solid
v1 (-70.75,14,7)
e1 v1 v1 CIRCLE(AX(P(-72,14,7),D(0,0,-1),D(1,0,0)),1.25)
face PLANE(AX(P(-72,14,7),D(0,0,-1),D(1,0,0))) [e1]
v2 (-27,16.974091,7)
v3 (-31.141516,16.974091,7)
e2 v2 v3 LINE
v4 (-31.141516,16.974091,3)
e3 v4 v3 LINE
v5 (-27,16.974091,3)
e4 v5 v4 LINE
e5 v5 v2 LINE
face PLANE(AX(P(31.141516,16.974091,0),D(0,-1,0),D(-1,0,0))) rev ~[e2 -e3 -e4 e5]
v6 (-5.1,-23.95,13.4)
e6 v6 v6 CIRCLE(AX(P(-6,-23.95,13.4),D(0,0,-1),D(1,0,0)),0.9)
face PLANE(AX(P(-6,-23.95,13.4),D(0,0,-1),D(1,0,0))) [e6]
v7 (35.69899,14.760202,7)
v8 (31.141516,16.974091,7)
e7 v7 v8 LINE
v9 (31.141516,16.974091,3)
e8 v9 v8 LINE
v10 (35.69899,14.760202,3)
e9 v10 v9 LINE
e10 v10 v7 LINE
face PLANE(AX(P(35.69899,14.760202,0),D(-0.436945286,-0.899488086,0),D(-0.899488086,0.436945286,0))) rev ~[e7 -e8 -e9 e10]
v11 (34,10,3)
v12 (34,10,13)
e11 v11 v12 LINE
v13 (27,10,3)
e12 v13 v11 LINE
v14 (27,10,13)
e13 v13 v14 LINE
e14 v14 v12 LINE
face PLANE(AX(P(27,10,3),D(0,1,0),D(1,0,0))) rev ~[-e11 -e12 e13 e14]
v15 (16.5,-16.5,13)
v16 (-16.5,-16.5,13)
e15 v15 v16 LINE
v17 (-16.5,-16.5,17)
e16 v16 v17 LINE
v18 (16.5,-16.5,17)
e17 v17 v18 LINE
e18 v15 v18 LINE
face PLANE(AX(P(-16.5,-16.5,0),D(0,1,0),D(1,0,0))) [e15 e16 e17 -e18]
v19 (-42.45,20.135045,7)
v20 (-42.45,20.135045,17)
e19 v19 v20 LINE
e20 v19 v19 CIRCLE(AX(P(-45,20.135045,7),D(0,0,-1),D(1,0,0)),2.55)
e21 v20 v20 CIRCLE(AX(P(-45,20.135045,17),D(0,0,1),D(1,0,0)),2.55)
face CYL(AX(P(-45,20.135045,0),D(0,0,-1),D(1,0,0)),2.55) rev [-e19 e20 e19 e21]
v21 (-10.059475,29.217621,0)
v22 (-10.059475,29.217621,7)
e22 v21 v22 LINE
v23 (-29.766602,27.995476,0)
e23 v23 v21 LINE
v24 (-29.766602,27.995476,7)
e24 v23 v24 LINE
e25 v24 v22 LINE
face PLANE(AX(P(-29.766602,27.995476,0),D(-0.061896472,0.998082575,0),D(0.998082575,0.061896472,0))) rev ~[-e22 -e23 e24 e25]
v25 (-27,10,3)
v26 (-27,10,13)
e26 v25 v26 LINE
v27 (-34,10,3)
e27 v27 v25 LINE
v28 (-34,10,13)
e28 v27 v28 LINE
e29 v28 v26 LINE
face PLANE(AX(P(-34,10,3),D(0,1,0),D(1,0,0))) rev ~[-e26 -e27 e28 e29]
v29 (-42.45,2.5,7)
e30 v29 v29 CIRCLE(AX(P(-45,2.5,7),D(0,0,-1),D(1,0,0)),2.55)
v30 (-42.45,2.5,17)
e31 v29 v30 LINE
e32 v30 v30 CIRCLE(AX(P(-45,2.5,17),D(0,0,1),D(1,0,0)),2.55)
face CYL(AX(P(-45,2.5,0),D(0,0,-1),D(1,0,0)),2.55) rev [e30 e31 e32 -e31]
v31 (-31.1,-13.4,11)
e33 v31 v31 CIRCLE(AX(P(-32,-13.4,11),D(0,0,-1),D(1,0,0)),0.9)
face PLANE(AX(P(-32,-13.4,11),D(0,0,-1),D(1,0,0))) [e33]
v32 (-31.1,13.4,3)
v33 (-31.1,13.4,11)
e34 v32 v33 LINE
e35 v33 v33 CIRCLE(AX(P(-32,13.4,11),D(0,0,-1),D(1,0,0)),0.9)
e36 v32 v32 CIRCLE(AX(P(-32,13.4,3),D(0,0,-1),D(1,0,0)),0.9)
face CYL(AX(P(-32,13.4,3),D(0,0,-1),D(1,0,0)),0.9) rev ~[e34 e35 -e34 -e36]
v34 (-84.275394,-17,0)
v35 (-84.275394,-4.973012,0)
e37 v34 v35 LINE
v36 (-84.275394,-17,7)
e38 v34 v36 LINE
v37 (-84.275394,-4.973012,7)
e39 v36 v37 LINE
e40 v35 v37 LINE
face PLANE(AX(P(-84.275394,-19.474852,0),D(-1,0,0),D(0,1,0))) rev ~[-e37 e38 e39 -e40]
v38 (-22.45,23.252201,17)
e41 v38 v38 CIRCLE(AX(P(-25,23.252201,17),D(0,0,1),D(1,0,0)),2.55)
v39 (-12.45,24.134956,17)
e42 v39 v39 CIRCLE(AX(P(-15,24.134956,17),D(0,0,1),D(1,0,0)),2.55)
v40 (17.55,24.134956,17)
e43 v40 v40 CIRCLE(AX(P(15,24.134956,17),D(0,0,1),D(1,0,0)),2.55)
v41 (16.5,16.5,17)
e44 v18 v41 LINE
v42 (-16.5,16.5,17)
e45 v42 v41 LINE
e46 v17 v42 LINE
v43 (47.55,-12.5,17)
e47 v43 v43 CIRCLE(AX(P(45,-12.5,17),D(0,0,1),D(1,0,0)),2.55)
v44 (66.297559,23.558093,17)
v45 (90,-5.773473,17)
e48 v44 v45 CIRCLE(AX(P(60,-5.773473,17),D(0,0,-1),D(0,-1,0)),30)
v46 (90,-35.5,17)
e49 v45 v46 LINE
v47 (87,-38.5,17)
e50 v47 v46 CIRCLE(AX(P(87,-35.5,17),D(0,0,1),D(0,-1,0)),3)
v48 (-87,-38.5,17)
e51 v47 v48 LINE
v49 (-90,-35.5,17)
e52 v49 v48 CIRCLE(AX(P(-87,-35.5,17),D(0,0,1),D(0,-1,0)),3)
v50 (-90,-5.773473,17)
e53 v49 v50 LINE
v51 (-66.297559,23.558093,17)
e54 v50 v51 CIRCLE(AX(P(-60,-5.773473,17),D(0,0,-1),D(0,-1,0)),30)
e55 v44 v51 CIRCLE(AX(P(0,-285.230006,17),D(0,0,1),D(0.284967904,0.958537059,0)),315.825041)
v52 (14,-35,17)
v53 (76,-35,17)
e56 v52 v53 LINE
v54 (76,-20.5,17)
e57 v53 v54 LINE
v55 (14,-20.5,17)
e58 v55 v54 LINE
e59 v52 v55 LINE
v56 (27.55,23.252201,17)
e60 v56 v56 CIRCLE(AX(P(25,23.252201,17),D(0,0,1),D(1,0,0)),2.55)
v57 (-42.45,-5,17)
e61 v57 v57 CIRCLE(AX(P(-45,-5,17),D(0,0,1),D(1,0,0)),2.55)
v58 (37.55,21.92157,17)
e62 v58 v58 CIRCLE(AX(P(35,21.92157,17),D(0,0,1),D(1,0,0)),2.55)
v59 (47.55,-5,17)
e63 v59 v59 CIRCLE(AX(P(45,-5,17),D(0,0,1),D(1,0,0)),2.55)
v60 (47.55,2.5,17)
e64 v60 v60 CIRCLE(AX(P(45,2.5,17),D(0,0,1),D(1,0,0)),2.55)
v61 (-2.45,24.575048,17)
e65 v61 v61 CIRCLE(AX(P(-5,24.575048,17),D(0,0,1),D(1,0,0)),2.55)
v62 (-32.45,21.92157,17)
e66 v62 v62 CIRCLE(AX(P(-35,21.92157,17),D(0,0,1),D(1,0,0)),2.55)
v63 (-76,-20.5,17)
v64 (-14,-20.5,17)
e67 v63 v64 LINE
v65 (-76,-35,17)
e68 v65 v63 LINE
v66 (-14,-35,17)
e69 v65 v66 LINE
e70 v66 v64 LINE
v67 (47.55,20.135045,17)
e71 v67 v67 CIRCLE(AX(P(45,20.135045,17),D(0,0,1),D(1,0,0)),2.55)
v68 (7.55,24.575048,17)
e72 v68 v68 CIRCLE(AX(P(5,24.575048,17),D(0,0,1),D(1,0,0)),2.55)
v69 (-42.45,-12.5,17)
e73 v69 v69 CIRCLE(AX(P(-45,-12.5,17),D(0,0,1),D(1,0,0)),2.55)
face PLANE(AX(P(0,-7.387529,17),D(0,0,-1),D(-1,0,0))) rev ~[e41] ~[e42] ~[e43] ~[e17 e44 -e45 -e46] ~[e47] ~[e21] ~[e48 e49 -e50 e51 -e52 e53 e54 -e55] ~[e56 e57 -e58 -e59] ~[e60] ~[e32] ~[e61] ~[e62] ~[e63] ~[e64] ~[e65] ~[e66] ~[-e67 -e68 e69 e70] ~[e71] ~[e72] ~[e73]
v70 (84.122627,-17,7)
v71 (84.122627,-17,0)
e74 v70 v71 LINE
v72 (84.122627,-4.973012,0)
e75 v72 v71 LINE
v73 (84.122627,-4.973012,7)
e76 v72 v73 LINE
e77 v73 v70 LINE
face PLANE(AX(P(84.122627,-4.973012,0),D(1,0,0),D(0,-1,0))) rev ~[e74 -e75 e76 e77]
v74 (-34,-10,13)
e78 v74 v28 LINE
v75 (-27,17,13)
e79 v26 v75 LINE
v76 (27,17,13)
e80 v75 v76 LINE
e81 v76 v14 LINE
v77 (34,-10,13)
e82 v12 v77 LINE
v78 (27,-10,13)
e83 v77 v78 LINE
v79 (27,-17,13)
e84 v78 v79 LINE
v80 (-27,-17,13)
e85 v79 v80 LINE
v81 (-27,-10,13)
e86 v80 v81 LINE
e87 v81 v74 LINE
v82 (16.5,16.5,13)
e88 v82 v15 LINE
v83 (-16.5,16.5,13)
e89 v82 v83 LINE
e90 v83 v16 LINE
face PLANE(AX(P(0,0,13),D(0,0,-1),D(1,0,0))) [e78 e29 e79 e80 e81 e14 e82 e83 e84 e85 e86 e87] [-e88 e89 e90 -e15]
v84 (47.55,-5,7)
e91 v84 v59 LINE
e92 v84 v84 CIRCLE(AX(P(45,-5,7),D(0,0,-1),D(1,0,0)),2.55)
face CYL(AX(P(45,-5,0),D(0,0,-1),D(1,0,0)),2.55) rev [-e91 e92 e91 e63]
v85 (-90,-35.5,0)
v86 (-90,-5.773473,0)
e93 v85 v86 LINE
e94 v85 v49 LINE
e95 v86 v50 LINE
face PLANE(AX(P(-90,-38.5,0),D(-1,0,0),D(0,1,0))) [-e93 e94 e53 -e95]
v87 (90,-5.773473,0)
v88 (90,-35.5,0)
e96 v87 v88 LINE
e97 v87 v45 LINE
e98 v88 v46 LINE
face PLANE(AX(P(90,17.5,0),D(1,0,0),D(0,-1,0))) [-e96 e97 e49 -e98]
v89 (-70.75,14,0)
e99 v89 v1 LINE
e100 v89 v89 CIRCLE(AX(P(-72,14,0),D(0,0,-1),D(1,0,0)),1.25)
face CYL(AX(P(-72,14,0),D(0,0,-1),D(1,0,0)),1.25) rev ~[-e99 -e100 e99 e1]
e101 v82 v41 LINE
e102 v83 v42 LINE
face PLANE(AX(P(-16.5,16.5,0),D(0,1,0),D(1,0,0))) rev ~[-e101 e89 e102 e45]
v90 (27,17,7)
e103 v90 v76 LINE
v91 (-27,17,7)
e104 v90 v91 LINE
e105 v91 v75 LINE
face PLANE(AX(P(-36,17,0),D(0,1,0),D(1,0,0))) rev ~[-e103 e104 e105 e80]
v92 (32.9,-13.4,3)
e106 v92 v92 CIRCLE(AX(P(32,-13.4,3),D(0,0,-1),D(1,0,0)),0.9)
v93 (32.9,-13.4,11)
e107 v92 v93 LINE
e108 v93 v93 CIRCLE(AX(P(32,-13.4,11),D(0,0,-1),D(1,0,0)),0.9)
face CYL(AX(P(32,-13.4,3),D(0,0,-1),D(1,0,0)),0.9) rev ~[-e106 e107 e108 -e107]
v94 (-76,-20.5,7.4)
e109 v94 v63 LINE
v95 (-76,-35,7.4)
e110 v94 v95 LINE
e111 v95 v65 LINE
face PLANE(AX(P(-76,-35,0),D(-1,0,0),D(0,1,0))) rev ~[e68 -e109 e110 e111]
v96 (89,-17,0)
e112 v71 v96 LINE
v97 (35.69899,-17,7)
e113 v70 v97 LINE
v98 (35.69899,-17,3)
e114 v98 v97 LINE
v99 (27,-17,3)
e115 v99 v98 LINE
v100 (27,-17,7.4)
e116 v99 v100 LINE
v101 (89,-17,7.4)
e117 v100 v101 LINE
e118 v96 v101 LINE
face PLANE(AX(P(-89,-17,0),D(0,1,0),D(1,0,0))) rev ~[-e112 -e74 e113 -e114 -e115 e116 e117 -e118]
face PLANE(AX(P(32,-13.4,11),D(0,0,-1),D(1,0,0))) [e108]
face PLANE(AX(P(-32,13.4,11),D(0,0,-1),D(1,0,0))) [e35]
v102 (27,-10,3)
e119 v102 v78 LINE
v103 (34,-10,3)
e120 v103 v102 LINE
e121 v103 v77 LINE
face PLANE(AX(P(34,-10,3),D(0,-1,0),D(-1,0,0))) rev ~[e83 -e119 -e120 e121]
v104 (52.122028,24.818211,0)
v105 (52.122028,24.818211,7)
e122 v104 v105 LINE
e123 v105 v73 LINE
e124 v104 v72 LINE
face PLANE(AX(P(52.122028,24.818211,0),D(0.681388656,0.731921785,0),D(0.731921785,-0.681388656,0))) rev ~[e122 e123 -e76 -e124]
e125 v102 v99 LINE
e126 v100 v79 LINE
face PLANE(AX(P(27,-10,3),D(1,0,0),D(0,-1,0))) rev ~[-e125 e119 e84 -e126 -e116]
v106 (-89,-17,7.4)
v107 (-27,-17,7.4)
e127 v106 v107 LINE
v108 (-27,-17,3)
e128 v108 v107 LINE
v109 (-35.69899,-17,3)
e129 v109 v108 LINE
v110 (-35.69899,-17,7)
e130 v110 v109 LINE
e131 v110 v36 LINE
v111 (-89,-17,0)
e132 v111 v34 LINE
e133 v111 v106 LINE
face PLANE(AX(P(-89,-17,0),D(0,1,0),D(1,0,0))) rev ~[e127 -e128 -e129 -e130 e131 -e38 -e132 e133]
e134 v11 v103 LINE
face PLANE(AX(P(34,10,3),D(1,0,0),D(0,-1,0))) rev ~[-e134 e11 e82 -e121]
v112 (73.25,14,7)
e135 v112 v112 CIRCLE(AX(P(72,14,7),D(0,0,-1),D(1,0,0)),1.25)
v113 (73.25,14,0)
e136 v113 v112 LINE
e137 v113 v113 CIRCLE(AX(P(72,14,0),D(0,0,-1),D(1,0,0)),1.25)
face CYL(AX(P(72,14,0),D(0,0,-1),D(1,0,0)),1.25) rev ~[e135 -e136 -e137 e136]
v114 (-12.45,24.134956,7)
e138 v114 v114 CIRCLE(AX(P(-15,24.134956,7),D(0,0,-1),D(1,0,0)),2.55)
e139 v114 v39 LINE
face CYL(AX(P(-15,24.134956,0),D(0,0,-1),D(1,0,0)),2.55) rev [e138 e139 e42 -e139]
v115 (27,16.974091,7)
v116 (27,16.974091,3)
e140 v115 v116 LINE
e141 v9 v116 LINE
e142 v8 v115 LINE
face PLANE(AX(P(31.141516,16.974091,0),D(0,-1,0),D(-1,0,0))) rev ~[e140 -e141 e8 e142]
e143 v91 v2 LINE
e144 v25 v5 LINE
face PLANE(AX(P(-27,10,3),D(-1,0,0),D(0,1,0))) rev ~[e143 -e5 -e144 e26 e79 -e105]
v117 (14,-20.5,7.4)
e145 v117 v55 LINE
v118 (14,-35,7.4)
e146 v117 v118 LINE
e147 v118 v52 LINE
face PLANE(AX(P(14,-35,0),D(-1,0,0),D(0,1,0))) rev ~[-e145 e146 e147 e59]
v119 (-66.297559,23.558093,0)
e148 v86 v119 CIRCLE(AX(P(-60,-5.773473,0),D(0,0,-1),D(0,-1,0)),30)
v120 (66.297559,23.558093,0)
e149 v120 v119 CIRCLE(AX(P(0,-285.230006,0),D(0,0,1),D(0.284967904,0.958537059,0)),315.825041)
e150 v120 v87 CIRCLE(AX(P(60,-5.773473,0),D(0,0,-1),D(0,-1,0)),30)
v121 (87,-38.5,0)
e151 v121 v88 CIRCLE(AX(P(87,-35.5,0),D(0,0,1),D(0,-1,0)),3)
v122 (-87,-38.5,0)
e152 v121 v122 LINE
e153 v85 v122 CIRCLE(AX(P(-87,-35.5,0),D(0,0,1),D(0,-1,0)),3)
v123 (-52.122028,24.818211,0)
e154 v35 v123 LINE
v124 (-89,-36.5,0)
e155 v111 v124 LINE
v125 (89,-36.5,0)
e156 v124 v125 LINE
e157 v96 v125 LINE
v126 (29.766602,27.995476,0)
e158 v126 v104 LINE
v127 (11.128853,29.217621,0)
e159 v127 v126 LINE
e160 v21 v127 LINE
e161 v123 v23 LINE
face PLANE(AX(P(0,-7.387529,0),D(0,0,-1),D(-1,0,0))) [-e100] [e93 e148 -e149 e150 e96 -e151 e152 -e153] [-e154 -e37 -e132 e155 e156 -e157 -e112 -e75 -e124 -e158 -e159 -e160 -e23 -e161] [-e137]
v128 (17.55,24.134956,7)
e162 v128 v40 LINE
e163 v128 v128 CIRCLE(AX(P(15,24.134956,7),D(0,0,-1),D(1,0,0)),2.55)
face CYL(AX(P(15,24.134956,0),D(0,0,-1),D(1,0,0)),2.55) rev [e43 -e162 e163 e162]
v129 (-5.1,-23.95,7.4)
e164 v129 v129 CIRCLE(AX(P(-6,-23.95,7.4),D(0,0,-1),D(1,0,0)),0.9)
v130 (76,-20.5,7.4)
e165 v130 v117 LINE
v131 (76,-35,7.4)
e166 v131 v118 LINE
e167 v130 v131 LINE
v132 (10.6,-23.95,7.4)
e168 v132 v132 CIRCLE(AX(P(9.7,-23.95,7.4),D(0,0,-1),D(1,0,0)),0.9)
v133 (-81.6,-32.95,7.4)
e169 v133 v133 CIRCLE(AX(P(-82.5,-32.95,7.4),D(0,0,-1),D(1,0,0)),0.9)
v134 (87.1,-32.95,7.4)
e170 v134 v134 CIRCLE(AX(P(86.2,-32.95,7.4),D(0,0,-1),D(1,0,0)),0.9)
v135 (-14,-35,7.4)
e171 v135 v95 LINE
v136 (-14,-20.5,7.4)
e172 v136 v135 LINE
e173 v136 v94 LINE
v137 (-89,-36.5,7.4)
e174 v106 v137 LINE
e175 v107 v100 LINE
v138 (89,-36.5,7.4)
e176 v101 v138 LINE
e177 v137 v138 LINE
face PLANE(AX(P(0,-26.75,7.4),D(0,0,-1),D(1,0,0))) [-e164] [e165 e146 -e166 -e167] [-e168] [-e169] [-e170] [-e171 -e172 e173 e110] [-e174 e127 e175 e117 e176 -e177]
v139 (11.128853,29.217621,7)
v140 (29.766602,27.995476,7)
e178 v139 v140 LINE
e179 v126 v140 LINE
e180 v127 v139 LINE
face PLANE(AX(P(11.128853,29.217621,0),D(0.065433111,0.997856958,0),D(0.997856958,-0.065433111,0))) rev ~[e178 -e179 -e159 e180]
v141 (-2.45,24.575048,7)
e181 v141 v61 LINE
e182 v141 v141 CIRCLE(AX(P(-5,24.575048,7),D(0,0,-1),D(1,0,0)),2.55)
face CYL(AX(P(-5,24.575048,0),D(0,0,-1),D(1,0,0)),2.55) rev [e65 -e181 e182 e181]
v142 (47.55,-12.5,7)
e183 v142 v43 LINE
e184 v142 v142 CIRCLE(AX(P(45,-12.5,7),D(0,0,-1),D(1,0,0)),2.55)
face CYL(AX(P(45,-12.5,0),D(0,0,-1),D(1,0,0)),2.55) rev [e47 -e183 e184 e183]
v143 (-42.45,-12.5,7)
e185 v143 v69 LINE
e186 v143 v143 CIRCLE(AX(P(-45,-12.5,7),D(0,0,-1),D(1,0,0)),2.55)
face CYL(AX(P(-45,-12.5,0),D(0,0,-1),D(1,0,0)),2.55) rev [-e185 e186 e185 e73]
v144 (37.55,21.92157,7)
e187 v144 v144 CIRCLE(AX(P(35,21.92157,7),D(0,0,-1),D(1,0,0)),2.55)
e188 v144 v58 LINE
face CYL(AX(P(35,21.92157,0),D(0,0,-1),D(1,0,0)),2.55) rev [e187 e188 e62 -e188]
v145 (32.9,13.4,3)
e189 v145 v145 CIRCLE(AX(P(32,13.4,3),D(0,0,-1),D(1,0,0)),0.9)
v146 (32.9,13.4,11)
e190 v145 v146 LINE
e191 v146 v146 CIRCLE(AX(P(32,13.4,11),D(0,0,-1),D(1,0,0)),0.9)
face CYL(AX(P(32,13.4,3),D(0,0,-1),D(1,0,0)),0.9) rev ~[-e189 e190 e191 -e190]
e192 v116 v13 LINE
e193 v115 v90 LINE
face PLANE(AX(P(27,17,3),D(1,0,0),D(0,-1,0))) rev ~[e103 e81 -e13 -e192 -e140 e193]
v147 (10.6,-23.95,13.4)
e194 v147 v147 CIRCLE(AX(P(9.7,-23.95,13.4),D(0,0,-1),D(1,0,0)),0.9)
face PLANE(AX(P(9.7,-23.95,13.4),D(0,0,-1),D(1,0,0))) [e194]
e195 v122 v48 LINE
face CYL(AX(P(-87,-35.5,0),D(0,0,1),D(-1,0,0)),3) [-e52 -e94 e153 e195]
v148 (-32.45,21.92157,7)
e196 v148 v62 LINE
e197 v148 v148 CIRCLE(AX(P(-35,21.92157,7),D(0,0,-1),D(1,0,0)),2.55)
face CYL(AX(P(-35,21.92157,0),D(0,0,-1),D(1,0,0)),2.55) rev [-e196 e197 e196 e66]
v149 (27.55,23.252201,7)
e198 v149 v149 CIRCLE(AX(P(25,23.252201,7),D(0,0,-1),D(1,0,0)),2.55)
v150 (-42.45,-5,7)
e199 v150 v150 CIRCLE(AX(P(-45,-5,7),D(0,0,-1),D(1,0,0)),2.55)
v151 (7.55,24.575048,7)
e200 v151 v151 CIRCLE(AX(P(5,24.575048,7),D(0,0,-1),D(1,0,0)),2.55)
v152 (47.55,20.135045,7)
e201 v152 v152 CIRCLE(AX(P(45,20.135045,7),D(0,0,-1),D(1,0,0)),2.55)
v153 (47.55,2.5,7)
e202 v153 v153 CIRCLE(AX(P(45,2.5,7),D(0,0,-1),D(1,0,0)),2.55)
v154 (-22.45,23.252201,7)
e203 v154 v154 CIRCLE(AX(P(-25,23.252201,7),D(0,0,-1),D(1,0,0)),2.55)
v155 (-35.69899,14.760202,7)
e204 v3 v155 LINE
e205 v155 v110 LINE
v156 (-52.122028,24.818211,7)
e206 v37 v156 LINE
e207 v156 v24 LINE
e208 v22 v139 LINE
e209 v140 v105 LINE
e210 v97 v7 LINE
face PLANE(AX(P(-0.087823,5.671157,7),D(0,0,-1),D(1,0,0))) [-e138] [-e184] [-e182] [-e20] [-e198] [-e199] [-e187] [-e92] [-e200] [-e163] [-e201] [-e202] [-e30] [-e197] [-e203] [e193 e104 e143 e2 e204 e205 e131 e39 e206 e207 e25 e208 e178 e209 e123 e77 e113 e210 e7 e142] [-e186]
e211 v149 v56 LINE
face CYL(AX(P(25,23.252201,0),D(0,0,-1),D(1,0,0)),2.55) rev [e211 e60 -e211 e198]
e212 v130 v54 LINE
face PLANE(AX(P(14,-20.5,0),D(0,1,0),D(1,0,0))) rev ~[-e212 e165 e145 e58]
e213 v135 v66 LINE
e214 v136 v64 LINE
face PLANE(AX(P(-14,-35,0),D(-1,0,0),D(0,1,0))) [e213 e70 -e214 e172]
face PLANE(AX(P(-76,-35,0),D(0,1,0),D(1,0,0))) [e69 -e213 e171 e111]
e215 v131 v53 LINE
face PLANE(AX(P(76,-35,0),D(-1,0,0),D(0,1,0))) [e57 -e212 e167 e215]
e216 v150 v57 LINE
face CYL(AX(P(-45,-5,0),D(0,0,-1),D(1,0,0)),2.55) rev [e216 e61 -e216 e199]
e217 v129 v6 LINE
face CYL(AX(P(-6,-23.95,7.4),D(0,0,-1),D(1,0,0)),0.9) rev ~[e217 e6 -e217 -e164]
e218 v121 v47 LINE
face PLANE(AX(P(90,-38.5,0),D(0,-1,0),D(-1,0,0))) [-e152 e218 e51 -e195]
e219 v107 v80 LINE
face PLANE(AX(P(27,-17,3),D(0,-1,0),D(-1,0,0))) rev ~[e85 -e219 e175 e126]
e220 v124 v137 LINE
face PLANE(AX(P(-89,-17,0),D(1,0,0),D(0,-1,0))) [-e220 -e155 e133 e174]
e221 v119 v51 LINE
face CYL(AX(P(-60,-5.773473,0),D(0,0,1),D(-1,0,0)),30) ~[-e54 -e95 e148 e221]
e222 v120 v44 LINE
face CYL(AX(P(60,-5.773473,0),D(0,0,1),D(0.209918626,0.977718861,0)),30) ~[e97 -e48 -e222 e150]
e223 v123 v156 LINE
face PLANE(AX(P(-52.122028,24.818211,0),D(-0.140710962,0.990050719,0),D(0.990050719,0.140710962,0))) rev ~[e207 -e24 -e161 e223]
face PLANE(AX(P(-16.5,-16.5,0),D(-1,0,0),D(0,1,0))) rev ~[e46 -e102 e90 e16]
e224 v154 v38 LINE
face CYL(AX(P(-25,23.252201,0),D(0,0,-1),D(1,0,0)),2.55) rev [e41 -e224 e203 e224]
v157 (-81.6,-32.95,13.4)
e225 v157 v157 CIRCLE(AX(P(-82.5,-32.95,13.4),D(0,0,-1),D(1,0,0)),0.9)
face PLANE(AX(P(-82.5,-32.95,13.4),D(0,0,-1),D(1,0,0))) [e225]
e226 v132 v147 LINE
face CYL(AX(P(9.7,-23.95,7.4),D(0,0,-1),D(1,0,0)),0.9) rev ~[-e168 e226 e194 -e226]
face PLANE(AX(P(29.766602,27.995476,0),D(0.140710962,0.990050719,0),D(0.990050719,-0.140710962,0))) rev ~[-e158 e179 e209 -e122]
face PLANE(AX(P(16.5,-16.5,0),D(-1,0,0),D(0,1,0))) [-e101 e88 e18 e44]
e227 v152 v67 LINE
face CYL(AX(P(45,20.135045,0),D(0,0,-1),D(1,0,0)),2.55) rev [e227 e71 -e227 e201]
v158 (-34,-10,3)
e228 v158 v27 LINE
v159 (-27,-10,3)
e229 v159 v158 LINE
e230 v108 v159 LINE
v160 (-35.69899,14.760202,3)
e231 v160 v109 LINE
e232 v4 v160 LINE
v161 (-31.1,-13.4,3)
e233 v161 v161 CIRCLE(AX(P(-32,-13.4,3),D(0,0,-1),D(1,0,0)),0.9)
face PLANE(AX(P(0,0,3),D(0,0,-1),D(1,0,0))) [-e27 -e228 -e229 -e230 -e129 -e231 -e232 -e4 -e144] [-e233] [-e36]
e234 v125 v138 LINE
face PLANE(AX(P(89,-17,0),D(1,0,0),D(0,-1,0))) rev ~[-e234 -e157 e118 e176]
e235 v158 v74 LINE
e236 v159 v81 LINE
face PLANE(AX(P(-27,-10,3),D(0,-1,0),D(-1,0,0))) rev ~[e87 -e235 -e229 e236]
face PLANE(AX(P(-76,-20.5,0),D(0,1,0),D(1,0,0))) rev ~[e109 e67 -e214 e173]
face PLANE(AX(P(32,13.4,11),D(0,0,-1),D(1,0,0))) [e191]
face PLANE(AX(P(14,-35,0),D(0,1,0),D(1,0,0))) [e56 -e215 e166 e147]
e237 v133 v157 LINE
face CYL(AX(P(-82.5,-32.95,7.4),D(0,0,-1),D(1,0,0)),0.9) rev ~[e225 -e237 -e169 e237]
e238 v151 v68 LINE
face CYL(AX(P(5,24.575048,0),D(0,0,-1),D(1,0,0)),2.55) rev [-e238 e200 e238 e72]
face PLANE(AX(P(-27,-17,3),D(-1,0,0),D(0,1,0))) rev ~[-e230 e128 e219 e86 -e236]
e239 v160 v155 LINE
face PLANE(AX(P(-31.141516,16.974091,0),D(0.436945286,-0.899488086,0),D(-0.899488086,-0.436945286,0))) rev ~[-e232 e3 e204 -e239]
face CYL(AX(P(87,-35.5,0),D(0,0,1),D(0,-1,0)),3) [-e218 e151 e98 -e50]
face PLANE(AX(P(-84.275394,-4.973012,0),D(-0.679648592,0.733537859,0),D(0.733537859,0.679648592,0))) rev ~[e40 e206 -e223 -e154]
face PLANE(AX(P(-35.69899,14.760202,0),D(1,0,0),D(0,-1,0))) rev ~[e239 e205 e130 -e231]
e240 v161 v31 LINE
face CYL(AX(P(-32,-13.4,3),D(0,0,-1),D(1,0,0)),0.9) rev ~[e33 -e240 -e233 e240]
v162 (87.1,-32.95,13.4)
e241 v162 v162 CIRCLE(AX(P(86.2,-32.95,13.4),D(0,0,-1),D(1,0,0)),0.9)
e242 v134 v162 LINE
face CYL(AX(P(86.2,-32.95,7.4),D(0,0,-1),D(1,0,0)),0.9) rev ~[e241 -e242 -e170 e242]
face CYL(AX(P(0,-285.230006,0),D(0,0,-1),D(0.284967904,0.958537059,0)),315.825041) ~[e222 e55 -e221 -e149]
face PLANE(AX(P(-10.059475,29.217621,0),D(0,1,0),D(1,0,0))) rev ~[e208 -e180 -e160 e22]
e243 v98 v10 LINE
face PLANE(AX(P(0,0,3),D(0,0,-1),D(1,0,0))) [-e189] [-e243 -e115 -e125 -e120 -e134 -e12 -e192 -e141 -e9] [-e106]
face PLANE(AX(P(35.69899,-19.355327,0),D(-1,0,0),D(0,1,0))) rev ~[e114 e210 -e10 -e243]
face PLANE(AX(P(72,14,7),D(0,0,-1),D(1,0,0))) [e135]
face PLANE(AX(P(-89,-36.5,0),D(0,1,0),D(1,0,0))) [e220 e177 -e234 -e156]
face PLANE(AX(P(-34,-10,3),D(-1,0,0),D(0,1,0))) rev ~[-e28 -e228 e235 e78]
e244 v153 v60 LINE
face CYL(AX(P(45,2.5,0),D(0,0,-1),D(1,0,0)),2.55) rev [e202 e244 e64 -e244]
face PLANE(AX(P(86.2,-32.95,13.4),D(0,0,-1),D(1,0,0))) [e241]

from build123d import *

# Parameters (mm, degrees)
SKETCH021_R     = 2.55
SKETCH021_W     = 33
SKETCH021_H     = 33
SKETCH021_W_2   = 62
SKETCH021_H_2   = 14.5
PAD013_DEPTH    = 17
FILLET010_R     = 30
FILLET011_R     = 3
SKETCH023_W     = 178
SKETCH023_H     = 19.5
POCKET006_DEPTH = 7.4
SKETCH024_R     = 0.9
POCKET007_DEPTH = 6
SKETCH025_W     = 72
SKETCH025_H     = 34
POCKET008_DEPTH = 3
POCKET012_DEPTH = 10
SKETCH028_R     = 1.25
POCKET013_DEPTH = 7
SKETCH030_R     = 0.9
POCKET014_DEPTH = 8


with BuildPart() as part:
    # Sketch021 → Pad013 (new body)
    with BuildSketch(Plane.XY):
        with BuildLine():
            Line((-90, -38.5), (-90, 17.5))
            ThreePointArc((90, 17.5), (0, 30.595035), (-90, 17.5))
            Line((90, 17.5), (90, -38.5))
            Line((90, -38.5), (-90, -38.5))
        make_face()
        with Locations((-45, 2.5)):
            Circle(SKETCH021_R, mode=Mode.SUBTRACT)
        with Locations((-45, -5)):
            Circle(SKETCH021_R, mode=Mode.SUBTRACT)
        with Locations((-45, -12.5)):
            Circle(SKETCH021_R, mode=Mode.SUBTRACT)
        with Locations((-45, 20.135045)):
            Circle(SKETCH021_R, mode=Mode.SUBTRACT)
        with Locations((-35, 21.92157)):
            Circle(SKETCH021_R, mode=Mode.SUBTRACT)
        with Locations((-25, 23.252201)):
            Circle(SKETCH021_R, mode=Mode.SUBTRACT)
        with Locations((-15, 24.134956)):
            Circle(SKETCH021_R, mode=Mode.SUBTRACT)
        with Locations((-5, 24.575048)):
            Circle(SKETCH021_R, mode=Mode.SUBTRACT)
        with Locations((5, 24.575048)):
            Circle(SKETCH021_R, mode=Mode.SUBTRACT)
        with Locations((15, 24.134956)):
            Circle(SKETCH021_R, mode=Mode.SUBTRACT)
        with Locations((25, 23.252201)):
            Circle(SKETCH021_R, mode=Mode.SUBTRACT)
        with Locations((35, 21.92157)):
            Circle(SKETCH021_R, mode=Mode.SUBTRACT)
        with Locations((45, 20.135045)):
            Circle(SKETCH021_R, mode=Mode.SUBTRACT)
        with Locations((45, 2.5)):
            Circle(SKETCH021_R, mode=Mode.SUBTRACT)
        with Locations((45, -12.5)):
            Circle(SKETCH021_R, mode=Mode.SUBTRACT)
        with Locations((45, -5)):
            Circle(SKETCH021_R, mode=Mode.SUBTRACT)
        Rectangle(SKETCH021_W, SKETCH021_H, mode=Mode.SUBTRACT)
        with Locations((-45, -27.75)):
            Rectangle(SKETCH021_W_2, SKETCH021_H_2, mode=Mode.SUBTRACT)
        with Locations((45, -27.75)):
            Rectangle(SKETCH021_W_2, SKETCH021_H_2, mode=Mode.SUBTRACT)
    extrude(amount=PAD013_DEPTH)

    # Fillet010
    fillet010_edges = [part.edges().sort_by_distance(p)[0] for p in [
        (90, 17.5, 8.5),
        (-90, 17.5, 8.5),
    ]]
    fillet(fillet010_edges, radius=FILLET010_R)

    # Fillet011
    fillet011_edges = [part.edges().sort_by_distance(p)[0] for p in [
        (-90, -38.5, 8.5),
        (90, -38.5, 8.5),
    ]]
    fillet(fillet011_edges, radius=FILLET011_R)

    # Sketch023 (on Face33 of Pad013) → Pocket006 (cut)
    with BuildSketch(Plane(origin=(0, 0, 0), x_dir=(1, 0, 0), z_dir=(0, 0, -1))):
        with Locations((0, 26.75)):
            Rectangle(SKETCH023_W, SKETCH023_H)
    extrude(amount=-POCKET006_DEPTH, mode=Mode.SUBTRACT)

    # Sketch024 (on Face43 of Pocket006) → Pocket007 (cut)
    with BuildSketch(Plane(origin=(0, 0, 7.4), x_dir=(1, 0, 0), z_dir=(0, 0, -1))):
        with Locations((-82.5, 32.95)):
            Circle(SKETCH024_R)
        with Locations((-6, 23.95)):
            Circle(SKETCH024_R)
        with Locations((9.7, 23.95)):
            Circle(SKETCH024_R)
        with Locations((86.2, 32.95)):
            Circle(SKETCH024_R)
    extrude(amount=-POCKET007_DEPTH, mode=Mode.SUBTRACT)

    # Sketch025 (on Face2 of Pocket007) → Pocket008 (cut)
    with BuildSketch(Plane(origin=(0, 0, 0), x_dir=(1, 0, 0), z_dir=(0, 0, -1))):
        Rectangle(SKETCH025_W, SKETCH025_H)
    extrude(amount=-POCKET008_DEPTH, mode=Mode.SUBTRACT)

    # Sketch029 (on Face46 of Pocket008) → Pocket012 (cut)
    with BuildSketch(Plane(origin=(0, 0, 3), x_dir=(1, 0, 0), z_dir=(0, 0, -1))):
        Polygon((-27, 17), (-27, 10), (-34, 10), (-34, -10), (-27, -10), (-27, -17), (27, -17), (27, -10), (34, -10), (34, 10), (27, 10), (27, 17), align=None)
    extrude(amount=-POCKET012_DEPTH, mode=Mode.SUBTRACT)

    # Sketch028 (on Face2 of Pocket012) → Pocket013 (cut)
    with BuildSketch(Plane(origin=(0, 0, 0), x_dir=(1, 0, 0), z_dir=(0, 0, -1))):
        with Locations((-72, -14)):
            Circle(SKETCH028_R)
        with Locations((72, -14)):
            Circle(SKETCH028_R)
        Polygon((-84.275394, 19.474852), (-84.275394, 4.973012), (-52.122028, -24.818211), (-29.766602, -27.995476), (-10.059475, -29.217621), (0, -29.217621), (11.128853, -29.217621), (29.766602, -27.995476), (52.122028, -24.818211), (84.122627, 4.973012), (84.122627, 19.355327), (35.69899, 19.355327), (35.69899, -14.760202), (31.141516, -16.974091), (0, -16.974091), (-31.141516, -16.974091), (-35.69899, -14.760202), (-35.69899, 19.474852), align=None)
    extrude(amount=-POCKET013_DEPTH, mode=Mode.SUBTRACT)

    # Sketch030 (on Face61 of Pocket013) → Pocket014 (cut)
    with BuildSketch(Plane(origin=(0, 0, 3), x_dir=(1, 0, 0), z_dir=(0, 0, -1))):
        with Locations((-32, 13.4)):
            Circle(SKETCH030_R)
        with Locations((-32, -13.4)):
            Circle(SKETCH030_R)
        with Locations((32, -13.4)):
            Circle(SKETCH030_R)
        with Locations((32, 13.4)):
            Circle(SKETCH030_R)
    extrude(amount=-POCKET014_DEPTH, mode=Mode.SUBTRACT)


solid = part.part
